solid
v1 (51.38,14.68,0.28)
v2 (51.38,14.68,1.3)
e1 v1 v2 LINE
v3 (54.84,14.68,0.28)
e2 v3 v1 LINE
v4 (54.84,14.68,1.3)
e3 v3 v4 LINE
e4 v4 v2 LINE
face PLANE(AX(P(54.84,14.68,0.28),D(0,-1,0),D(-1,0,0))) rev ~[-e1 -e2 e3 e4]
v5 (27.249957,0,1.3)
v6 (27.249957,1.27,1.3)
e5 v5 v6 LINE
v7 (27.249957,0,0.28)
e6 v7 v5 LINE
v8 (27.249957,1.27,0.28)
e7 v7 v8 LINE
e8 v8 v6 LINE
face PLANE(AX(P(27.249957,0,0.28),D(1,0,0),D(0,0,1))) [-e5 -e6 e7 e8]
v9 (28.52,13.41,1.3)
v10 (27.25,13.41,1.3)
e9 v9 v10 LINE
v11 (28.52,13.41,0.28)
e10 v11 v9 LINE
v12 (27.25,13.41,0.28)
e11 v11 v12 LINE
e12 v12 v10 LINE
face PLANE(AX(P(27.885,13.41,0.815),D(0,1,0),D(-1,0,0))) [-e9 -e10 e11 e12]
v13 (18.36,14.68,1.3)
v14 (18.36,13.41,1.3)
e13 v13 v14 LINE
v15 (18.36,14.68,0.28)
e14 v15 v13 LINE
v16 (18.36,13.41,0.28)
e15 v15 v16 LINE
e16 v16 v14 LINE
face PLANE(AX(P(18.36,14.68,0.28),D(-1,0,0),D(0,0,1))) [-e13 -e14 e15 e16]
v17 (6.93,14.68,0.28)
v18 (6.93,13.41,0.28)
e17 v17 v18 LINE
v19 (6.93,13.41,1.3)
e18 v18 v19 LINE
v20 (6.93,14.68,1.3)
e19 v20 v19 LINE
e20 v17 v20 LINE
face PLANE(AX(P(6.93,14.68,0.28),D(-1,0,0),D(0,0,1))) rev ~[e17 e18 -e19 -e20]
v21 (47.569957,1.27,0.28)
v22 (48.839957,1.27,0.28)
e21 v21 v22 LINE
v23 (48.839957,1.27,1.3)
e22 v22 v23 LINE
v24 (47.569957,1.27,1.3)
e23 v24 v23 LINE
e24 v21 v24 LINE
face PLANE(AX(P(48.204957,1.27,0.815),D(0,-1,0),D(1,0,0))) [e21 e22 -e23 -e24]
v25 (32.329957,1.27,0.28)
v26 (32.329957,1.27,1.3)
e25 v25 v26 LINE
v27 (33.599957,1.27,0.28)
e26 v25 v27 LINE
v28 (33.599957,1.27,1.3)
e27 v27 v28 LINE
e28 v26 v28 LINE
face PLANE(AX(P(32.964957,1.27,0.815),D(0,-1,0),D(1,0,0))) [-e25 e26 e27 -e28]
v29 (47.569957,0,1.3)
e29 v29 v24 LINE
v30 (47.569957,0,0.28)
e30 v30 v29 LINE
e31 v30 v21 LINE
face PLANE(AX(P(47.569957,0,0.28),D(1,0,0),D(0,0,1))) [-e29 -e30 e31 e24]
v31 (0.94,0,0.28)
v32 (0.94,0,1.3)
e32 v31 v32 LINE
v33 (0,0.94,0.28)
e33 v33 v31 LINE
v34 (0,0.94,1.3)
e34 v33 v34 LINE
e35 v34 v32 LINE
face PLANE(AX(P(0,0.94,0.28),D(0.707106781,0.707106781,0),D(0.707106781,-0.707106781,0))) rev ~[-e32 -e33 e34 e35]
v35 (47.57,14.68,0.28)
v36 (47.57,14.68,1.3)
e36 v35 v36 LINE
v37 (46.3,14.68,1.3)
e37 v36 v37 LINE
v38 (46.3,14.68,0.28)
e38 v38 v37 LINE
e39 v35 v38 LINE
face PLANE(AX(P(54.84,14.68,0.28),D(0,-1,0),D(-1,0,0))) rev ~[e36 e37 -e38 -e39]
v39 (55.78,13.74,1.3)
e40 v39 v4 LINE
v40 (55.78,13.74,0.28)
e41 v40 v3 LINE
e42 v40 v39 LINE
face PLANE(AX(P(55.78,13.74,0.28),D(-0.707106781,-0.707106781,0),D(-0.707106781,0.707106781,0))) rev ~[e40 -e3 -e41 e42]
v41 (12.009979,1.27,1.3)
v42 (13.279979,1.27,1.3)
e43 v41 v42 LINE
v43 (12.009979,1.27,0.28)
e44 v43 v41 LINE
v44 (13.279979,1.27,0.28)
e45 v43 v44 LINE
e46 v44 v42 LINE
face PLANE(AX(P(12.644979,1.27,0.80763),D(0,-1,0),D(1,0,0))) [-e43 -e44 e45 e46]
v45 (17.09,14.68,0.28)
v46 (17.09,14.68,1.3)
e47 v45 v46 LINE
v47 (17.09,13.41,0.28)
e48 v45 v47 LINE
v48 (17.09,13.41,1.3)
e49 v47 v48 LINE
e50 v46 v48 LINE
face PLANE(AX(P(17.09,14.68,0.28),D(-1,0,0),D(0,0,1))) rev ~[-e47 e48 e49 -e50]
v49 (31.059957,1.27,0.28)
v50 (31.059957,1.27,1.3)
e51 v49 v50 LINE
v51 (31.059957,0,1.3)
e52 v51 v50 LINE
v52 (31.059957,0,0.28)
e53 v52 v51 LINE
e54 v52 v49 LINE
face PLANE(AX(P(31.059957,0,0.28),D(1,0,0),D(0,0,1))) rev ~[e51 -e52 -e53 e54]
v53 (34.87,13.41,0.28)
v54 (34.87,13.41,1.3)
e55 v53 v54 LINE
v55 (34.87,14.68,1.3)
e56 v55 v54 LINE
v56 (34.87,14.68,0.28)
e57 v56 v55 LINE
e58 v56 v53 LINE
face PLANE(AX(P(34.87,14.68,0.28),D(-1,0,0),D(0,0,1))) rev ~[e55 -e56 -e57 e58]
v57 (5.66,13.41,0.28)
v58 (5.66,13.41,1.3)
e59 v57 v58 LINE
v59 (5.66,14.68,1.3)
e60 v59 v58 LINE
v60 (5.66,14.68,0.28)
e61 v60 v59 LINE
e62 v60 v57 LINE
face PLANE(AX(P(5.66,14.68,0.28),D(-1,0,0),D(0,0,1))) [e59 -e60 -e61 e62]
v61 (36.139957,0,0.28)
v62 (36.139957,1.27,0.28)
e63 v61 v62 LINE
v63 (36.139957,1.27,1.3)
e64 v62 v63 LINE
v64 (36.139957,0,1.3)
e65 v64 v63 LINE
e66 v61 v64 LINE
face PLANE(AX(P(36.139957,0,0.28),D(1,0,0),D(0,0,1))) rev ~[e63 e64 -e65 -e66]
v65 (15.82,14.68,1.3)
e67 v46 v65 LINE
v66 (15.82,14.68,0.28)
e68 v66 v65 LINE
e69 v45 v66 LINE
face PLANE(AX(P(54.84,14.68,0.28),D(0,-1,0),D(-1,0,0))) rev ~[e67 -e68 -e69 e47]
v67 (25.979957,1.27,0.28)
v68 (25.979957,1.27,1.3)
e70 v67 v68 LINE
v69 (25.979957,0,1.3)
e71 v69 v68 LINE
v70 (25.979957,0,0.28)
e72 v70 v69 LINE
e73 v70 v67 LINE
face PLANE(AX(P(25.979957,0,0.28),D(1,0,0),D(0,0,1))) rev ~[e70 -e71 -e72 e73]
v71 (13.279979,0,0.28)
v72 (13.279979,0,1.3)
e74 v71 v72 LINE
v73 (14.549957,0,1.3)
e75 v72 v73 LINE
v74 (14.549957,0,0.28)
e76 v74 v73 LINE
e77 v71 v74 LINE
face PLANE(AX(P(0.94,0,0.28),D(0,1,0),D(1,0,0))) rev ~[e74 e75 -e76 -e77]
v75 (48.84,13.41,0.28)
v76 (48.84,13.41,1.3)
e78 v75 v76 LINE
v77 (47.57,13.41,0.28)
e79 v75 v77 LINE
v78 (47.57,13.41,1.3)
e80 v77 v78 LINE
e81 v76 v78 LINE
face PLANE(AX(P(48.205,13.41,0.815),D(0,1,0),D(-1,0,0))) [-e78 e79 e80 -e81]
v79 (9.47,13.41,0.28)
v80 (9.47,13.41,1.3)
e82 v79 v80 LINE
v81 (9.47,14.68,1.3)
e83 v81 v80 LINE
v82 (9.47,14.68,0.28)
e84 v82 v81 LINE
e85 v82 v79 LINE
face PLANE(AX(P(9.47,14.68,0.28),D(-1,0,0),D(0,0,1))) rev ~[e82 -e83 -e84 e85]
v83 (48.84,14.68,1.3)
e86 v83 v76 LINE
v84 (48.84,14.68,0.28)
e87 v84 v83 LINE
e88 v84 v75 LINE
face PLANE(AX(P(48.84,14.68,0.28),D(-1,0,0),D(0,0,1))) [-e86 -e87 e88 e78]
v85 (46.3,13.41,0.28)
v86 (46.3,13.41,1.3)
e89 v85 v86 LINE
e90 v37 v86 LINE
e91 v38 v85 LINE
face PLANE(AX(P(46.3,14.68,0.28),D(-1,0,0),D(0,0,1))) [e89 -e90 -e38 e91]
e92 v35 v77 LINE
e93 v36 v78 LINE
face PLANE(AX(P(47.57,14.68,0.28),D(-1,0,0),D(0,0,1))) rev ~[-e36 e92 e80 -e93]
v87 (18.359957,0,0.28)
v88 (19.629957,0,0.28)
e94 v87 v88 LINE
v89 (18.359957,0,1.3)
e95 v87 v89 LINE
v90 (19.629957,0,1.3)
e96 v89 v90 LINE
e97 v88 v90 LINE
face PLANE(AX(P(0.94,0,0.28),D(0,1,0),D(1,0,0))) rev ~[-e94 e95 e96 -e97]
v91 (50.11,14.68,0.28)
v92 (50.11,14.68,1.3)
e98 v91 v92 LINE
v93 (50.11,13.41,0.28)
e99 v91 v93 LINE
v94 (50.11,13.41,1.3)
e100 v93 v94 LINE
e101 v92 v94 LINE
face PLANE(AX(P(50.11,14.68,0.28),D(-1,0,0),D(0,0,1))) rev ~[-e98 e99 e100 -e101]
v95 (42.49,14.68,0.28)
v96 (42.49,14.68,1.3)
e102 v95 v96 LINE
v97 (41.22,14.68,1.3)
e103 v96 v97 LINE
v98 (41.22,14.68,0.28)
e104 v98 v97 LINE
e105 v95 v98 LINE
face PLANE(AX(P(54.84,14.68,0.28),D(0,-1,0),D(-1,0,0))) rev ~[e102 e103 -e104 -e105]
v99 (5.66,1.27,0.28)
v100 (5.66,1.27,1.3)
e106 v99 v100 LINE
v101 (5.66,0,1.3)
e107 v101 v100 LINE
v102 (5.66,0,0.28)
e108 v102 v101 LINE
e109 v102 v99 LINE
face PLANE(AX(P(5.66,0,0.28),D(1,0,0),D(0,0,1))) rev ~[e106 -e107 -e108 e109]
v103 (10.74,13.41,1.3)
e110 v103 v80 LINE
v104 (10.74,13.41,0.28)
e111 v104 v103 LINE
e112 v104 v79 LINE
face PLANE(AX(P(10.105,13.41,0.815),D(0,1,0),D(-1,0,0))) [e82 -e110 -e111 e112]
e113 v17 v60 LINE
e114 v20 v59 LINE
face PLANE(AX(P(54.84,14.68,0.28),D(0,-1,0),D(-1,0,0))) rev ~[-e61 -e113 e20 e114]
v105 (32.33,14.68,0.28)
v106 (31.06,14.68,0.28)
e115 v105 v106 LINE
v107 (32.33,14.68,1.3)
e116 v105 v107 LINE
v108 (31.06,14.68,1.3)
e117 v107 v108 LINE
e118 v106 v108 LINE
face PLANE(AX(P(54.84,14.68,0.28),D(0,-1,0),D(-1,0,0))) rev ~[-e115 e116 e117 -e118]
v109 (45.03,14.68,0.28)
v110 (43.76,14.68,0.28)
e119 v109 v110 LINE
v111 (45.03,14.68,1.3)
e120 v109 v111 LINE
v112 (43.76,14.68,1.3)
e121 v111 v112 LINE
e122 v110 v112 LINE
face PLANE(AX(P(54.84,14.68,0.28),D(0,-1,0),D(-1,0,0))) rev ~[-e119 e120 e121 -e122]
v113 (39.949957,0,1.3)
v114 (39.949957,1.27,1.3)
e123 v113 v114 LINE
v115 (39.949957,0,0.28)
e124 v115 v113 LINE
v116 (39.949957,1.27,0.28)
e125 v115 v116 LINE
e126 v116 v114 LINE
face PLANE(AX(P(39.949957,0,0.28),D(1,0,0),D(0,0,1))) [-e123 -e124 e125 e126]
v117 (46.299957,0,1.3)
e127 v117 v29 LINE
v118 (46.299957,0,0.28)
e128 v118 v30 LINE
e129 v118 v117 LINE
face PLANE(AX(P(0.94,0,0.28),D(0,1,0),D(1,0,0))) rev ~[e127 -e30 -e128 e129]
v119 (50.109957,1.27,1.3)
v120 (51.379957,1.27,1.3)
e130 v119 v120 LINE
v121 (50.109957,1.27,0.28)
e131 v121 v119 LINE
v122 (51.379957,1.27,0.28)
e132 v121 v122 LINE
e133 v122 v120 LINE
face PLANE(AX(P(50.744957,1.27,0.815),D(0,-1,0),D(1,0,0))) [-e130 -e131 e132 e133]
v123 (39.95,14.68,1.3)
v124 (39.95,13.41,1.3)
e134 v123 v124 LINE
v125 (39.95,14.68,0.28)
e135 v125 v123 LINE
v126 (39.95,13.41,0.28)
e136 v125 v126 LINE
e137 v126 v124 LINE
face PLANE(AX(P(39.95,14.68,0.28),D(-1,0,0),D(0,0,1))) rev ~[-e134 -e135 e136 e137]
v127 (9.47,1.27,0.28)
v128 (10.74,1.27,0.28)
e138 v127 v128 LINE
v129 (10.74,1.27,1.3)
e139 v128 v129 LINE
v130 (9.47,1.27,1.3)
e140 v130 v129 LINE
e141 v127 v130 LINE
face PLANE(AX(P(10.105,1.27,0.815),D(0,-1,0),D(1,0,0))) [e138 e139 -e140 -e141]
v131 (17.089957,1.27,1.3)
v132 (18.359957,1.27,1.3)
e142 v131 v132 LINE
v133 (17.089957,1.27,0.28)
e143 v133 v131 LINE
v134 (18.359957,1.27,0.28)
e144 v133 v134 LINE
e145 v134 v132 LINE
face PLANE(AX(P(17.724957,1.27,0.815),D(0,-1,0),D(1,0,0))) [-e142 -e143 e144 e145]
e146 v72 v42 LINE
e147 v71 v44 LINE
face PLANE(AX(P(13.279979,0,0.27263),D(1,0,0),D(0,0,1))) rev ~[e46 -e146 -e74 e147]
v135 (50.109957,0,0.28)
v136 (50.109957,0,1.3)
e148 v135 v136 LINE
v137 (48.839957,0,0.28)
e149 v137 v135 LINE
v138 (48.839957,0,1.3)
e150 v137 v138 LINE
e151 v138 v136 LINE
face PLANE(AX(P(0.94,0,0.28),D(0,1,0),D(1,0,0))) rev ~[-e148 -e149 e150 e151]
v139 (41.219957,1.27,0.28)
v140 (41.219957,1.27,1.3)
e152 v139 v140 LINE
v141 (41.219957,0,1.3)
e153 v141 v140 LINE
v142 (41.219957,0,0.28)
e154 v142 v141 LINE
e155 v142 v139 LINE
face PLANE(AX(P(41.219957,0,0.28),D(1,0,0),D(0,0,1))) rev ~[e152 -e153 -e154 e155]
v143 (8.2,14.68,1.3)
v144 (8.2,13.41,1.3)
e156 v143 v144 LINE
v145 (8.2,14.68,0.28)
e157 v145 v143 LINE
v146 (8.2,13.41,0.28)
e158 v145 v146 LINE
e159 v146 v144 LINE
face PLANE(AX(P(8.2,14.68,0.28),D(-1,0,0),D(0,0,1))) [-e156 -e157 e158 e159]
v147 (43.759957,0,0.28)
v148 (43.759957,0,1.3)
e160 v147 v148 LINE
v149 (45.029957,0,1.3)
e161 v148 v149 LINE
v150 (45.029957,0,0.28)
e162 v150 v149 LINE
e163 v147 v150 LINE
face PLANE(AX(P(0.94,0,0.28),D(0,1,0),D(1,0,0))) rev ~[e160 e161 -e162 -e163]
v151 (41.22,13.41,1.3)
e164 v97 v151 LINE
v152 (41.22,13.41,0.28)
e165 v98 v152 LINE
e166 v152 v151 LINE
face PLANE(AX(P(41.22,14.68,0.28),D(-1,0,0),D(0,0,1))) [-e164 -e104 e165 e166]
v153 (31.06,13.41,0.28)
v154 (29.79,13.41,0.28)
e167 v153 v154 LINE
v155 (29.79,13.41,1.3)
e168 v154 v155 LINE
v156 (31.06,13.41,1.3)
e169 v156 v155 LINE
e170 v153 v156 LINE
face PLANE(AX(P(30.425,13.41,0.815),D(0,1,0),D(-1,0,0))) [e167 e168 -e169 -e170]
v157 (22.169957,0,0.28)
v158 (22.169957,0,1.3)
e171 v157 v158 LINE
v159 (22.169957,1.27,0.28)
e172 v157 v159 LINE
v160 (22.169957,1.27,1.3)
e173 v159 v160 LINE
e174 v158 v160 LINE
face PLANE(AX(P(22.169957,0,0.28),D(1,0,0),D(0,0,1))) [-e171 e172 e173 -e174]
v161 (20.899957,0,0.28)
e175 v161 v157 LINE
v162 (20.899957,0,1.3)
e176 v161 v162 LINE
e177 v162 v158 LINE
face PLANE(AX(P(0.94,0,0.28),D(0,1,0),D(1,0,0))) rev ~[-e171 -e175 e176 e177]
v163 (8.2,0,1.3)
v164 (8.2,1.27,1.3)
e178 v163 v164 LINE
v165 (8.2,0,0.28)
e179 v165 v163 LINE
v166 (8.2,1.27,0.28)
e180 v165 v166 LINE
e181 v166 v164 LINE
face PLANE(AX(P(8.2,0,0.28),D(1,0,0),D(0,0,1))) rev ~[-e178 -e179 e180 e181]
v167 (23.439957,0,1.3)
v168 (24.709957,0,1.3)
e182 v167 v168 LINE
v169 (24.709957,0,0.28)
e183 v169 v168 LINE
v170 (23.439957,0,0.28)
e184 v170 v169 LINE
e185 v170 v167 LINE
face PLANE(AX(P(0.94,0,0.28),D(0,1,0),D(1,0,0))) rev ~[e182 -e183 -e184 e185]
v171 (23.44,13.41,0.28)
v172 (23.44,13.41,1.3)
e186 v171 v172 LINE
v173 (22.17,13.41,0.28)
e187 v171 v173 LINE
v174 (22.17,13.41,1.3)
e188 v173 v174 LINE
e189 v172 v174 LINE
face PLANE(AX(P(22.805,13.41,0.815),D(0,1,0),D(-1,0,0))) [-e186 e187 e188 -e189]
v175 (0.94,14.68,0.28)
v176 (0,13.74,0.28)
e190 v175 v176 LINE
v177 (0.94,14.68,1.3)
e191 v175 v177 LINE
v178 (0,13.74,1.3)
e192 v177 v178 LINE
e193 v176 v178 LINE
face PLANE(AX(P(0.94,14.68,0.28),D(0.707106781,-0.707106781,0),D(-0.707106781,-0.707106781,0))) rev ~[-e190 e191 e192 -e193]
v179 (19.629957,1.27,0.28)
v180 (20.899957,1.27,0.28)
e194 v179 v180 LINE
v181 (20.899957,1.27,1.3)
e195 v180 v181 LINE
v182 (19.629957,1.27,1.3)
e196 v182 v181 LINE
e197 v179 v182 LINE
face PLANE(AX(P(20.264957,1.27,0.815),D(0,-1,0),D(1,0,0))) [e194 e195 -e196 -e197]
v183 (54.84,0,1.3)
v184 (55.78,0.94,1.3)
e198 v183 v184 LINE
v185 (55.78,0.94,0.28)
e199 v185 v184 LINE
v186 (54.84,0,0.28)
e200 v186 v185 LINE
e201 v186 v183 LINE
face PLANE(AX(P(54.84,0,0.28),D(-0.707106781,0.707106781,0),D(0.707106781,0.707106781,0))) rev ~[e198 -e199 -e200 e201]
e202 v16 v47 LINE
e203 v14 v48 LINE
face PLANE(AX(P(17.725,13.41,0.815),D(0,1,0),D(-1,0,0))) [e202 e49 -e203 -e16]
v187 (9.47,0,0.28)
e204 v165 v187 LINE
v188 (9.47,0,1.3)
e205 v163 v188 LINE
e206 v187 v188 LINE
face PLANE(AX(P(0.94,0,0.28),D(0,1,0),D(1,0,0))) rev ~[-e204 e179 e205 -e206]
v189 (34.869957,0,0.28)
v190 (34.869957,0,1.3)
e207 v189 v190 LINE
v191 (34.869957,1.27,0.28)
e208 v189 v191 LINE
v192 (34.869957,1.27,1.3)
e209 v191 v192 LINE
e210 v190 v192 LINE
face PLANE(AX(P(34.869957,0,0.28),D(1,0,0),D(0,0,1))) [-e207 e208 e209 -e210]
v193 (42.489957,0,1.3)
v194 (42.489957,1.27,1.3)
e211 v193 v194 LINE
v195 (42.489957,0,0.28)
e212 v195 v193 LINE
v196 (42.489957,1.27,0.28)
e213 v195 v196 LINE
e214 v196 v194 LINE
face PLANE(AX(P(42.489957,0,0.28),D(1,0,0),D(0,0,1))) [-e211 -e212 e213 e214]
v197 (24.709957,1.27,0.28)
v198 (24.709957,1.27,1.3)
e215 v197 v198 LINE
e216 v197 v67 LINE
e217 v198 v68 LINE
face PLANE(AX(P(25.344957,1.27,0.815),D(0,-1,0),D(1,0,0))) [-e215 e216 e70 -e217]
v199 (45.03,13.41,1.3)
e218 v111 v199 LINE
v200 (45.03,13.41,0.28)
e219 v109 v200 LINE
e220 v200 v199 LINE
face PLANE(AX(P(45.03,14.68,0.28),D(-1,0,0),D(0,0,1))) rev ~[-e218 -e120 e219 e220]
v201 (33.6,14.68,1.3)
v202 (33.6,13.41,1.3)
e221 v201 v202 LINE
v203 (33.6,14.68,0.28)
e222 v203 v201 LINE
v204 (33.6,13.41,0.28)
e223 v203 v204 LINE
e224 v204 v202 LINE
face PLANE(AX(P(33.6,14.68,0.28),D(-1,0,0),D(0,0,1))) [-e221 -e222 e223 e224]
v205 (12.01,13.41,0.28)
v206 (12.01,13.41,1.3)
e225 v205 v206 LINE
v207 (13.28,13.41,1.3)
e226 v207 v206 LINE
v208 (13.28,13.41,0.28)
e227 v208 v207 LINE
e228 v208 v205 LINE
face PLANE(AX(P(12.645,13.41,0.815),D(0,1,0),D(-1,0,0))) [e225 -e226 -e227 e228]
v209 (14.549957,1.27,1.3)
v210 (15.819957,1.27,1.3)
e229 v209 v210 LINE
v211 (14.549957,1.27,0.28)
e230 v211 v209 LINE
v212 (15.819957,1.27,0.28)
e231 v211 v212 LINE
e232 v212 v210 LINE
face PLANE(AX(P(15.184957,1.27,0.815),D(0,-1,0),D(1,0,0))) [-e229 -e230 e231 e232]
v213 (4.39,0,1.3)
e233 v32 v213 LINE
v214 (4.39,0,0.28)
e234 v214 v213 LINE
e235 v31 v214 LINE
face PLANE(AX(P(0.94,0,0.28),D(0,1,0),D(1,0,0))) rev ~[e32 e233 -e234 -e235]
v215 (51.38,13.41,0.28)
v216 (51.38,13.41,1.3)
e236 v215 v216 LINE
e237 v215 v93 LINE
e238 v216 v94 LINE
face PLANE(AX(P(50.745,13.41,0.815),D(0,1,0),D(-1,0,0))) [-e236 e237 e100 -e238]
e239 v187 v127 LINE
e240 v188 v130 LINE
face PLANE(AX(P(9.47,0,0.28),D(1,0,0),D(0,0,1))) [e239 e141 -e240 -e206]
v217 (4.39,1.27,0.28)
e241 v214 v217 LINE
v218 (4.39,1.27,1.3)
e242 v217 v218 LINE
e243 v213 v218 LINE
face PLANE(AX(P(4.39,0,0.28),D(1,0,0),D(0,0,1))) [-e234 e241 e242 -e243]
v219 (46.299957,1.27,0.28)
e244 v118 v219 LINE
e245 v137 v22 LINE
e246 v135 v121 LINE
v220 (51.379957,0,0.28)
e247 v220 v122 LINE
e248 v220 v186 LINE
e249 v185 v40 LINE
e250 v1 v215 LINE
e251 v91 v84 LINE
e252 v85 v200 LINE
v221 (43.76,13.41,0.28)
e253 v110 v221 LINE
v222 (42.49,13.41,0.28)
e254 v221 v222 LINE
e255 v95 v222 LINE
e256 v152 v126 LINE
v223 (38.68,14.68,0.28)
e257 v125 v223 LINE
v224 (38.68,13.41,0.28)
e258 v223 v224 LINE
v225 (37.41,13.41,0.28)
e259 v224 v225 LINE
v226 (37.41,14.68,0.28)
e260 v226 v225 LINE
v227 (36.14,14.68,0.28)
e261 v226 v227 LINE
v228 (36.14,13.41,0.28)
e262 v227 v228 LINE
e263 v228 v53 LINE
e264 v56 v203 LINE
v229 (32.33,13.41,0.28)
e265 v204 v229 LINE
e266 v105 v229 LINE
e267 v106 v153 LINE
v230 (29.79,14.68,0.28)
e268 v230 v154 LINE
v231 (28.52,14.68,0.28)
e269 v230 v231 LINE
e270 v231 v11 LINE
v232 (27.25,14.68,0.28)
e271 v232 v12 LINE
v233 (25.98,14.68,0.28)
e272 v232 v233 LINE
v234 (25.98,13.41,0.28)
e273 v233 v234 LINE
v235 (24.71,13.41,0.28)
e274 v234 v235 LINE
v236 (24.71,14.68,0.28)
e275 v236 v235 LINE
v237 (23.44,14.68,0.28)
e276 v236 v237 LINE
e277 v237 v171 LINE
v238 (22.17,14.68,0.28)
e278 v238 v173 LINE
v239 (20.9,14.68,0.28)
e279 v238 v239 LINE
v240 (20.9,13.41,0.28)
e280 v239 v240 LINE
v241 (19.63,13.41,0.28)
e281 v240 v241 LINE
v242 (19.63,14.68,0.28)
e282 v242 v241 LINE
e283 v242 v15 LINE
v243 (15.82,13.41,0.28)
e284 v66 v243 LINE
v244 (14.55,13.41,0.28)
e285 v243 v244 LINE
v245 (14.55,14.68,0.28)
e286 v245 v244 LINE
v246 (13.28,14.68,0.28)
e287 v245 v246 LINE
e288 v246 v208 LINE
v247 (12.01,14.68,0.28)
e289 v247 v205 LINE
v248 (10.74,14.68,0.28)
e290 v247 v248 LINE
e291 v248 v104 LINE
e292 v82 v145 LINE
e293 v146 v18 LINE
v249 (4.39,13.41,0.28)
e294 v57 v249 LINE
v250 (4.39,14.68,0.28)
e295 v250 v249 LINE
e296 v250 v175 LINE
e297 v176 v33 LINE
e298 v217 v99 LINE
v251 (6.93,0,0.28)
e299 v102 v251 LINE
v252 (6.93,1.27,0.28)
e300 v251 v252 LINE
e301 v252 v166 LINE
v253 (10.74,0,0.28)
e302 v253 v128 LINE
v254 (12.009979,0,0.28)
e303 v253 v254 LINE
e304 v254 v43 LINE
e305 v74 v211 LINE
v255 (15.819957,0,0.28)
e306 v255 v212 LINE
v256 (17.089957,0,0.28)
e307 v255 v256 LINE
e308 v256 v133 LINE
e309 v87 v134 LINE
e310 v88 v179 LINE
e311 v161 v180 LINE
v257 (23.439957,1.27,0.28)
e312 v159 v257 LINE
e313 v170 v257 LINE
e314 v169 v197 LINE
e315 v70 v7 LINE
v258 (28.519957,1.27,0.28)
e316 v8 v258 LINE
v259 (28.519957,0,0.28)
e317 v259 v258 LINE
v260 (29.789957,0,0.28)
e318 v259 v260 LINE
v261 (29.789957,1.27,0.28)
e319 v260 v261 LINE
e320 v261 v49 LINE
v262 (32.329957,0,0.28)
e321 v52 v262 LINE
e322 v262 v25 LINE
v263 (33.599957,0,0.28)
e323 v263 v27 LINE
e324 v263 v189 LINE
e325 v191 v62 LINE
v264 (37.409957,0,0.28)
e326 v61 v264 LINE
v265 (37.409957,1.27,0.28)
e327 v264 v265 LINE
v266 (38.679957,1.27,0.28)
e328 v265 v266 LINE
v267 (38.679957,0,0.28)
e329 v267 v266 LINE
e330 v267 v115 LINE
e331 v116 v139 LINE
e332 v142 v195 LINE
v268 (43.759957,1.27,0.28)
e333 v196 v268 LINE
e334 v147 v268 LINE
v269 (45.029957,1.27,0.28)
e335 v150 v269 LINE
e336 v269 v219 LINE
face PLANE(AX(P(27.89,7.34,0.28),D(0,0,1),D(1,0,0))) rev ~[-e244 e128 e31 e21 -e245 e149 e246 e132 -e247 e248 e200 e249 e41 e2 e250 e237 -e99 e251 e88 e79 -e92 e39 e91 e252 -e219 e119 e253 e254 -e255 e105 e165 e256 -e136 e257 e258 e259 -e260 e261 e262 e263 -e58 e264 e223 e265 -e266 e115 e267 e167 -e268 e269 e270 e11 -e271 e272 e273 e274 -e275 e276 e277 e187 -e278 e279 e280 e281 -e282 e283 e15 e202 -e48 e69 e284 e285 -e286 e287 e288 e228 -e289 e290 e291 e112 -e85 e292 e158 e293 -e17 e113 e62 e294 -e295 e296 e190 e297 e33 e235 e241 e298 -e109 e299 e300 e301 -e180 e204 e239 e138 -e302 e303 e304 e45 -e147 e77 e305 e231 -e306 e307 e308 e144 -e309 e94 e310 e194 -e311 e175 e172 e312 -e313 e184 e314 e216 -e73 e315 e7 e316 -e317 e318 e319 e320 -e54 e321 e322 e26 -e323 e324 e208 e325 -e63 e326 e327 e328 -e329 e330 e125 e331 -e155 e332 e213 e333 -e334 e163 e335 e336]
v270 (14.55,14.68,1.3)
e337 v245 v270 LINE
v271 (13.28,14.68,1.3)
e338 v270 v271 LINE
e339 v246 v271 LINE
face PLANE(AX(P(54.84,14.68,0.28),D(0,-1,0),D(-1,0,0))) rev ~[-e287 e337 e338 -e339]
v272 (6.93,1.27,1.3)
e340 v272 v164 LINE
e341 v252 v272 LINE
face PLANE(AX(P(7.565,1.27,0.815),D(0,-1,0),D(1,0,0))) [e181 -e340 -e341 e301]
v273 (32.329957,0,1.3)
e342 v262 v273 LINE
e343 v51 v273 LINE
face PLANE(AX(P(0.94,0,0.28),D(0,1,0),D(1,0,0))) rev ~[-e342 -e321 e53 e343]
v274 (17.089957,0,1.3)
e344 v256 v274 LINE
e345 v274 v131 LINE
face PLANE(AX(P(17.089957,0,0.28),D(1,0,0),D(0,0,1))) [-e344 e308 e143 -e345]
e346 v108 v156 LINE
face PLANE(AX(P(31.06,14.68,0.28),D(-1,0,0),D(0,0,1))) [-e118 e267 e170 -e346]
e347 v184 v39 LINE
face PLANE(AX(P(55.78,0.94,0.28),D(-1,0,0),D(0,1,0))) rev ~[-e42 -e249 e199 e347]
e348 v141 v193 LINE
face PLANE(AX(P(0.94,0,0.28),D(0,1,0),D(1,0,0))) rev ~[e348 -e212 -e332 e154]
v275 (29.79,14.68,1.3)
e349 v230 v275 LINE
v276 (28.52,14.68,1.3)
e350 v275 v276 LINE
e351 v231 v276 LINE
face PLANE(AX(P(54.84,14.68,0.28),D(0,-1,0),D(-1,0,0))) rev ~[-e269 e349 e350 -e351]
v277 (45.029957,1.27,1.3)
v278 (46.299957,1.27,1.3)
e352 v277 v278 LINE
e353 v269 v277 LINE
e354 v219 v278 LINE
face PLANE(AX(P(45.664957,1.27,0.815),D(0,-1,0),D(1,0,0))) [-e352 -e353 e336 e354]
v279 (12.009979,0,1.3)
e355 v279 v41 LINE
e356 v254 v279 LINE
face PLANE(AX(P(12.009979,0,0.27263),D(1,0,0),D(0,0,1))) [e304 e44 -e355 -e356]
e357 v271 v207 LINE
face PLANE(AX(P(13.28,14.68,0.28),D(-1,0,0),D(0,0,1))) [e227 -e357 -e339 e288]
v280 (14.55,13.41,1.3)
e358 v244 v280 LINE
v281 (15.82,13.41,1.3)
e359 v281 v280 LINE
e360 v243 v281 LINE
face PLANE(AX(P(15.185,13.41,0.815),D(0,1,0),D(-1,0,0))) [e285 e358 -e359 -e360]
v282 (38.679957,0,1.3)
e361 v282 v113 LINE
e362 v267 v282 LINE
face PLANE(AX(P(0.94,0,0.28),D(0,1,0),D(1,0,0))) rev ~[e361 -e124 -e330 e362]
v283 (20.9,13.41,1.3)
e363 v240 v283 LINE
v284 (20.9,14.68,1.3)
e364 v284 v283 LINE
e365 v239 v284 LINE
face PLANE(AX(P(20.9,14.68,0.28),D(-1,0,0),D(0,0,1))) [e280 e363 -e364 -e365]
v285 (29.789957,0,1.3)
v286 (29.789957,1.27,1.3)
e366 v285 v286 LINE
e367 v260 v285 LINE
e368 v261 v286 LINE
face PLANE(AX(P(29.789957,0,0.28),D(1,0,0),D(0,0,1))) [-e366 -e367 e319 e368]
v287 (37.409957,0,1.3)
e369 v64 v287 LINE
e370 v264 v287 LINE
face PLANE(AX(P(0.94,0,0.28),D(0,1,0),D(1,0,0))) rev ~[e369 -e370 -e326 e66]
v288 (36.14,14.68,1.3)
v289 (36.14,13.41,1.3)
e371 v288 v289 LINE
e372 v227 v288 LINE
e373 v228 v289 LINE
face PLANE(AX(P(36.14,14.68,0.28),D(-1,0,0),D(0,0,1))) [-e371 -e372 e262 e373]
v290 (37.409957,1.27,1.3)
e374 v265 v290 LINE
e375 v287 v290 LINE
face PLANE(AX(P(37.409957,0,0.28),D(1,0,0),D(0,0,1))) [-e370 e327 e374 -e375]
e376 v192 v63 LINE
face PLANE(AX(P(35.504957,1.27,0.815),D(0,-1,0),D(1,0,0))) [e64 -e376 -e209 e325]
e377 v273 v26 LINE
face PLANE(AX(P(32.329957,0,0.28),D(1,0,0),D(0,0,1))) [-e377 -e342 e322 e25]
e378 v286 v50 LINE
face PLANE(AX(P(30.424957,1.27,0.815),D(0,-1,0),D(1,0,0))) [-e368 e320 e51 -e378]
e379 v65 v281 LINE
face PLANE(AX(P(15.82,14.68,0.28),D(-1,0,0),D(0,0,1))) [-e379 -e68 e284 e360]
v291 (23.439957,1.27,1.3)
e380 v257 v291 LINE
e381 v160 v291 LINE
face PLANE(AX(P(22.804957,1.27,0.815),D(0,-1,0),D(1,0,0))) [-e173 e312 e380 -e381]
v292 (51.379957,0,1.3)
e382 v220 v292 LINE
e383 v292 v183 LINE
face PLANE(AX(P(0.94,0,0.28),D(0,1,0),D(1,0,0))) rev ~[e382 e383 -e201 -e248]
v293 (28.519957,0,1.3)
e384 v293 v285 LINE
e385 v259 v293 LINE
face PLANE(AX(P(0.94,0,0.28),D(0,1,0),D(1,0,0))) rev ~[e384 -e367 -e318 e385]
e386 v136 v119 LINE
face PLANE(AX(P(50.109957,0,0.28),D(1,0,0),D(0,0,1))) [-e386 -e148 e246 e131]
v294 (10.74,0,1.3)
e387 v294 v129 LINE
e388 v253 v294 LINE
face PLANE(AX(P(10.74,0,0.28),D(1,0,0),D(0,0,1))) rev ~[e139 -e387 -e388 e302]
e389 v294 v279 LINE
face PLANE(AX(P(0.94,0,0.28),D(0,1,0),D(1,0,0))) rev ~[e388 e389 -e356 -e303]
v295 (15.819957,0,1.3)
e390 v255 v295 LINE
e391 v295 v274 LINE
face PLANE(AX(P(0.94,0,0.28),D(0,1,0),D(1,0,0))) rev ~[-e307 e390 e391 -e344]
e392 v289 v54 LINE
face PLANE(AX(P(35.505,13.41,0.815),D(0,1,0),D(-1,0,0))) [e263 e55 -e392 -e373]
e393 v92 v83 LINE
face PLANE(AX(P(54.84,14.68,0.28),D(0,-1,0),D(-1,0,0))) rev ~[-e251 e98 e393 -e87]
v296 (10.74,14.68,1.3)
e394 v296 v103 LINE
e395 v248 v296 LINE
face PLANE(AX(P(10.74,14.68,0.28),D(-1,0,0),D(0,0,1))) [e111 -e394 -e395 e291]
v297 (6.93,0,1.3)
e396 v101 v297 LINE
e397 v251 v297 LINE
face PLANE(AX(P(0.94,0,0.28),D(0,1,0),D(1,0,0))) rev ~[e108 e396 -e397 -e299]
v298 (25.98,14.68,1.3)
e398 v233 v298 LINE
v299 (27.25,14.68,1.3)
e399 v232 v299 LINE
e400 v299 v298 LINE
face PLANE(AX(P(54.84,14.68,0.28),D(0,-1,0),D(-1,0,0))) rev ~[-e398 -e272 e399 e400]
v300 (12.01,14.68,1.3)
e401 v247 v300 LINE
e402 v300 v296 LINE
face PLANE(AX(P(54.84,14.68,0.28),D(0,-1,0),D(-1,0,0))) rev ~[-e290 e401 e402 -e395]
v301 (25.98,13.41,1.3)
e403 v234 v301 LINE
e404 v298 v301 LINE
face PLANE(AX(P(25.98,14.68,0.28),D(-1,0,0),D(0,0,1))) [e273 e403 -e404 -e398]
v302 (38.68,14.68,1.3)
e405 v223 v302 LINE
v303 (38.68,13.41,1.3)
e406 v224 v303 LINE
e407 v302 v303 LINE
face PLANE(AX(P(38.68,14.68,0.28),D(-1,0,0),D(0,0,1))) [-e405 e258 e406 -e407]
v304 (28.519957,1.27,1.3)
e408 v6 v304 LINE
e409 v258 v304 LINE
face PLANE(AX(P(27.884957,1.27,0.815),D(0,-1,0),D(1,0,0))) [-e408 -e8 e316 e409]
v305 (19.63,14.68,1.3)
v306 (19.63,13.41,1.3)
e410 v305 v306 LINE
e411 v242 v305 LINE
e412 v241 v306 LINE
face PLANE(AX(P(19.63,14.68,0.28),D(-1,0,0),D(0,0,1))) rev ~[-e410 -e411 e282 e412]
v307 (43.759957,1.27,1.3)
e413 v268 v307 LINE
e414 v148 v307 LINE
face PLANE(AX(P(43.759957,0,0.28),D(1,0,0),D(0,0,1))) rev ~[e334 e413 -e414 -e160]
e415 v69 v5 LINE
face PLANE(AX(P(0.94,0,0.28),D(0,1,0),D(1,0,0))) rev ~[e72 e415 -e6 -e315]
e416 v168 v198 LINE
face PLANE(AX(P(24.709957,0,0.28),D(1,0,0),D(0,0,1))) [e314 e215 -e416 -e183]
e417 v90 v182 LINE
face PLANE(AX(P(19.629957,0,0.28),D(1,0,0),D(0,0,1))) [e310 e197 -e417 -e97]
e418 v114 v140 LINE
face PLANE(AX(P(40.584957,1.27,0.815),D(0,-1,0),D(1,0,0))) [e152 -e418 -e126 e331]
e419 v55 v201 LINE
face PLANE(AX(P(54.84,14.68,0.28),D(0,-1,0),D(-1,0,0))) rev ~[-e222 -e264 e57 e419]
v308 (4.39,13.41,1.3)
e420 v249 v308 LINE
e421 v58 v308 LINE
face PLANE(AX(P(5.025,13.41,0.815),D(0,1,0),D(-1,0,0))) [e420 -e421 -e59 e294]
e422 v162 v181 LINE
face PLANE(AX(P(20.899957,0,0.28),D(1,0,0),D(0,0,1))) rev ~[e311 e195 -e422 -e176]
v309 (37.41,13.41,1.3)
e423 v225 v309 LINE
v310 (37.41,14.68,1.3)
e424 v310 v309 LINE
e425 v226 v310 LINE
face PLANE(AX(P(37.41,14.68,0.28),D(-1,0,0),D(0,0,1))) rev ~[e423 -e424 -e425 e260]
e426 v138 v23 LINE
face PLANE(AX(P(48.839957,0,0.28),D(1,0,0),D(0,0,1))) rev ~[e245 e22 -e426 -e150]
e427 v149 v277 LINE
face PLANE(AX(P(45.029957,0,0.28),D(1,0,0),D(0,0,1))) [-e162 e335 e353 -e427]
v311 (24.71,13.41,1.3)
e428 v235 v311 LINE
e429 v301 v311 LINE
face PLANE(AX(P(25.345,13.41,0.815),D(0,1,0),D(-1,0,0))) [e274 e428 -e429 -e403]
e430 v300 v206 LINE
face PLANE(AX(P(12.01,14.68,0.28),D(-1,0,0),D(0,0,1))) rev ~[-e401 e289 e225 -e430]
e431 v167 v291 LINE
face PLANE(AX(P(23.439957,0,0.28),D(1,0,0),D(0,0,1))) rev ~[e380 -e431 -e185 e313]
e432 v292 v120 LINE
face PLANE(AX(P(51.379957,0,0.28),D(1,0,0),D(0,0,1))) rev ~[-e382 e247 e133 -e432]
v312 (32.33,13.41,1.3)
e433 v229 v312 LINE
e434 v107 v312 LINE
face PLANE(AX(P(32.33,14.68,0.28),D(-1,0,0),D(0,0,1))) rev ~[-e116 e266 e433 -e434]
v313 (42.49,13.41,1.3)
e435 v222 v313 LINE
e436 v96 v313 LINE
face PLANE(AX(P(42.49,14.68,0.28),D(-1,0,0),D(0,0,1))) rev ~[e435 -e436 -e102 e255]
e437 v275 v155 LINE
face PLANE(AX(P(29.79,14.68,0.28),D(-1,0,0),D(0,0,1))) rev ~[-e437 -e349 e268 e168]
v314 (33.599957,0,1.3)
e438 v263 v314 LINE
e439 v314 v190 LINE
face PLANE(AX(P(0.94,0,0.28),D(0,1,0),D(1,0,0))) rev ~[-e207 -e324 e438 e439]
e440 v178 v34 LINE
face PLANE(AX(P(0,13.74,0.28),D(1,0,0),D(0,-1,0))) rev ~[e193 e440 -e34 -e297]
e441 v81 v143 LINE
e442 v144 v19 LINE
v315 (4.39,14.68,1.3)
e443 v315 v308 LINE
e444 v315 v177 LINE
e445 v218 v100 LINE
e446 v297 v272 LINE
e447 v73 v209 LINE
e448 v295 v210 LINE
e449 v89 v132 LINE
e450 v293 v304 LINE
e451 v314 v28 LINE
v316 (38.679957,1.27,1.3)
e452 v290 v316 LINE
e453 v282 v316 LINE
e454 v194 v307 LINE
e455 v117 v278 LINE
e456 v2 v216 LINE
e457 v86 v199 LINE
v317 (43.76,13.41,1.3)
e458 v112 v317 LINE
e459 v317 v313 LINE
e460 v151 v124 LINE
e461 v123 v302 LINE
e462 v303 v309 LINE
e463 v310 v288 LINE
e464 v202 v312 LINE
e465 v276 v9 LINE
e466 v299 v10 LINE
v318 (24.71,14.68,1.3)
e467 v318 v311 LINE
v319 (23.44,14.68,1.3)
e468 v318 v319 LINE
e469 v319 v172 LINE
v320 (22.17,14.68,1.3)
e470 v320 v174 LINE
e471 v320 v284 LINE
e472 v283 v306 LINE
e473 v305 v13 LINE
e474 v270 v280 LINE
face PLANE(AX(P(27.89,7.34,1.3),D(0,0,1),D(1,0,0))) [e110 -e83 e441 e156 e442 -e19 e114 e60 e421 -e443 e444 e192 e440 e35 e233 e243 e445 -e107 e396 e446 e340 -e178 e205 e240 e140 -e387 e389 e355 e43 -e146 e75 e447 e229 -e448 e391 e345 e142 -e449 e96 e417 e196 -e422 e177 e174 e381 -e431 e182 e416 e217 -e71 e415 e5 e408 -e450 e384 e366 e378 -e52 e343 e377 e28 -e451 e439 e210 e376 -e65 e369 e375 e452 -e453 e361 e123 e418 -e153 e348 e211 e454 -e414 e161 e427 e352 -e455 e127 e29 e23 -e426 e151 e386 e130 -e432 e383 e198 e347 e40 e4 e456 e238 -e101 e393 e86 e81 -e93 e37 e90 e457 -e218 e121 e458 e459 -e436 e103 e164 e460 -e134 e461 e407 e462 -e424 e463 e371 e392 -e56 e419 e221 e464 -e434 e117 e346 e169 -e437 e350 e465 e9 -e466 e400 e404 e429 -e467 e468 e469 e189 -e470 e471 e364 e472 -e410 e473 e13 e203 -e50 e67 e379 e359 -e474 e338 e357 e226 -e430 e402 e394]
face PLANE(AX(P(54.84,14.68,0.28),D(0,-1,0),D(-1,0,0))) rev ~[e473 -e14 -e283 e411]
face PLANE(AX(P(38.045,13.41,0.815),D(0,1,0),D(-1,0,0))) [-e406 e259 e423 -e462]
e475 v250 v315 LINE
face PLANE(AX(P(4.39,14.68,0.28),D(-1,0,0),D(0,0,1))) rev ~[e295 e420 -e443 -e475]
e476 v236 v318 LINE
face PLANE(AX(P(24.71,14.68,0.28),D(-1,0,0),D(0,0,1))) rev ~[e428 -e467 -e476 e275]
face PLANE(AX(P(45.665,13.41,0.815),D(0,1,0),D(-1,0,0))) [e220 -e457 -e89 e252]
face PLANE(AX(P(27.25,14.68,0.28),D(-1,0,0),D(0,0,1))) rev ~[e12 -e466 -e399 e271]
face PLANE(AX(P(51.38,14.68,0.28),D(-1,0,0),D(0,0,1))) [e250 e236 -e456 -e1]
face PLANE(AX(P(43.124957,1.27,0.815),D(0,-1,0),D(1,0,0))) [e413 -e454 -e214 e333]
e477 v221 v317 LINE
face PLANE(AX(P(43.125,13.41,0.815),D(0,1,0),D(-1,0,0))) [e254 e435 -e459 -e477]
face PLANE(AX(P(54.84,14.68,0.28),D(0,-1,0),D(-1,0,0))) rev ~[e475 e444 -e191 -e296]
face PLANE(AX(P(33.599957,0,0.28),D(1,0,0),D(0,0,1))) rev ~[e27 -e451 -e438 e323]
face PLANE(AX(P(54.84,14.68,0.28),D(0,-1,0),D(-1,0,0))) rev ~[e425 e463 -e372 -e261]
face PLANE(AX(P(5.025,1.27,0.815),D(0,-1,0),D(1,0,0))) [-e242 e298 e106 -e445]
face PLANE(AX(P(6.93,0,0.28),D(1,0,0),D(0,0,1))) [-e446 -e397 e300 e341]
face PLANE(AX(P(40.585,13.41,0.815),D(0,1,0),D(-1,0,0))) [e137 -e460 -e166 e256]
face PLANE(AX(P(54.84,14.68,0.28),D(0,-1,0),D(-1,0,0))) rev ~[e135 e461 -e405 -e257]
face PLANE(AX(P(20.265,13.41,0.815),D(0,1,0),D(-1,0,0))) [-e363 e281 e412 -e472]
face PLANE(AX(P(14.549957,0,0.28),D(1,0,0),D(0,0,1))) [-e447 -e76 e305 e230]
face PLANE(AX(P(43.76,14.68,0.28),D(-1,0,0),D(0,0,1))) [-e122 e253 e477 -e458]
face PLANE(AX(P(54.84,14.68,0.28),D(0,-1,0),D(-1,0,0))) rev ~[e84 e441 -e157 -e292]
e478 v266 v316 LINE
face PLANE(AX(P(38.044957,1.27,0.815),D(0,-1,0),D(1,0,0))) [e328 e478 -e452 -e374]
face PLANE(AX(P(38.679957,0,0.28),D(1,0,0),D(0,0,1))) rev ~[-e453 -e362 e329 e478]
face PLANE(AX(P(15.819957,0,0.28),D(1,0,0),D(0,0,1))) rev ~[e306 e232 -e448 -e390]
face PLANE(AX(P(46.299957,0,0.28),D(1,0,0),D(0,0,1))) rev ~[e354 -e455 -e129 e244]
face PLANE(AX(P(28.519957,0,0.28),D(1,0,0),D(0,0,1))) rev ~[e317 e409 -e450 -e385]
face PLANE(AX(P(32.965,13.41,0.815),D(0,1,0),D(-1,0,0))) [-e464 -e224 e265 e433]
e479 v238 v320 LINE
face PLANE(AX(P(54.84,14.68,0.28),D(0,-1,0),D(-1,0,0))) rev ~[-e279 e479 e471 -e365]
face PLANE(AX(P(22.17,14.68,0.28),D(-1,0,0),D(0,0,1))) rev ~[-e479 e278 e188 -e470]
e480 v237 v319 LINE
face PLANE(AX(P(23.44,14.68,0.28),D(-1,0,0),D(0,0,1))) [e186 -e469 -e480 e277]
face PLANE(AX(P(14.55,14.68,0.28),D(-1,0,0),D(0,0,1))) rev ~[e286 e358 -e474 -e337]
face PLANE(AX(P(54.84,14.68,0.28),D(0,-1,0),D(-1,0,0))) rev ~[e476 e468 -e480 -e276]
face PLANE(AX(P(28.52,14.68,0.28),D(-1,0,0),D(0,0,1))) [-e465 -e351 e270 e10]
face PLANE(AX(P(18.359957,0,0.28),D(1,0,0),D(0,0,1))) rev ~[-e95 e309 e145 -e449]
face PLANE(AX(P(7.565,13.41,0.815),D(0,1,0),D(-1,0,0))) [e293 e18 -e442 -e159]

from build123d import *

# Parameters (mm, degrees)
PAD_DEPTH       = 1.02
SKETCH001_W     = 1.27
SKETCH001_H     = 1.07
POCKET_DEPTH    = 1.27
SKETCH002_W     = 1.27
SKETCH002_H     = 1.07
POCKET001_DEPTH = 1.27


with BuildPart() as part:
    # Sketch → Pad (new body)
    with BuildSketch(Plane.XY.offset(0.28)):
        Polygon((0, 0.94), (0.94, 0), (54.84, 0), (55.78, 0.94), (55.78, 13.74), (54.84, 14.68), (0.94, 14.68), (0, 13.74), align=None)
    extrude(amount=PAD_DEPTH)

    # Sketch001 → Pocket (cut)
    with BuildSketch(Plane(origin=(0, 0, 0.28), x_dir=(1, 0, 0), z_dir=(0, -1, 0))):
        with Locations((5.025, 0.535)):
            Rectangle(SKETCH001_W, SKETCH001_H)
        with Locations((7.565, 0.535)):
            Rectangle(SKETCH001_W, SKETCH001_H)
        with Locations((10.105, 0.535)):
            Rectangle(SKETCH001_W, SKETCH001_H)
        with Locations((12.644979, 0.52763)):
            Rectangle(SKETCH001_W, SKETCH001_H)
        with Locations((15.184957, 0.535)):
            Rectangle(SKETCH001_W, SKETCH001_H)
        with Locations((17.724957, 0.535)):
            Rectangle(SKETCH001_W, SKETCH001_H)
        with Locations((20.264957, 0.535)):
            Rectangle(SKETCH001_W, SKETCH001_H)
        with Locations((22.804957, 0.535)):
            Rectangle(SKETCH001_W, SKETCH001_H)
        with Locations((25.344957, 0.535)):
            Rectangle(SKETCH001_W, SKETCH001_H)
        with Locations((27.884957, 0.535)):
            Rectangle(SKETCH001_W, SKETCH001_H)
        with Locations((30.424957, 0.535)):
            Rectangle(SKETCH001_W, SKETCH001_H)
        with Locations((32.964957, 0.535)):
            Rectangle(SKETCH001_W, SKETCH001_H)
        with Locations((35.504957, 0.535)):
            Rectangle(SKETCH001_W, SKETCH001_H)
        with Locations((38.044957, 0.535)):
            Rectangle(SKETCH001_W, SKETCH001_H)
        with Locations((40.584957, 0.535)):
            Rectangle(SKETCH001_W, SKETCH001_H)
        with Locations((43.124957, 0.535)):
            Rectangle(SKETCH001_W, SKETCH001_H)
        with Locations((45.664957, 0.535)):
            Rectangle(SKETCH001_W, SKETCH001_H)
        with Locations((48.204957, 0.535)):
            Rectangle(SKETCH001_W, SKETCH001_H)
        with Locations((50.744957, 0.535)):
            Rectangle(SKETCH001_W, SKETCH001_H)
    extrude(amount=-POCKET_DEPTH, mode=Mode.SUBTRACT)

    # Sketch002 → Pocket001 (cut)
    with BuildSketch(Plane(origin=(0, 14.68, 0.28), x_dir=(-1, 0, 0), z_dir=(0, 1, 0))):
        with Locations((-45.665, 0.535)):
            Rectangle(SKETCH002_W, SKETCH002_H)
        with Locations((-43.125, 0.535)):
            Rectangle(SKETCH002_W, SKETCH002_H)
        with Locations((-40.585, 0.535)):
            Rectangle(SKETCH002_W, SKETCH002_H)
        with Locations((-40.585, 0.535)):
            Rectangle(SKETCH002_W, SKETCH002_H)
        with Locations((-40.585, 0.535)):
            Rectangle(SKETCH002_W, SKETCH002_H)
        with Locations((-38.045, 0.535)):
            Rectangle(SKETCH002_W, SKETCH002_H)
        with Locations((-35.505, 0.535)):
            Rectangle(SKETCH002_W, SKETCH002_H)
        with Locations((-32.965, 0.535)):
            Rectangle(SKETCH002_W, SKETCH002_H)
        with Locations((-30.425, 0.535)):
            Rectangle(SKETCH002_W, SKETCH002_H)
        with Locations((-27.885, 0.535)):
            Rectangle(SKETCH002_W, SKETCH002_H)
        with Locations((-25.345, 0.535)):
            Rectangle(SKETCH002_W, SKETCH002_H)
        with Locations((-22.805, 0.535)):
            Rectangle(SKETCH002_W, SKETCH002_H)
        with Locations((-20.265, 0.535)):
            Rectangle(SKETCH002_W, SKETCH002_H)
        with Locations((-17.725, 0.535)):
            Rectangle(SKETCH002_W, SKETCH002_H)
        with Locations((-15.185, 0.535)):
            Rectangle(SKETCH002_W, SKETCH002_H)
        with Locations((-12.645, 0.535)):
            Rectangle(SKETCH002_W, SKETCH002_H)
        with Locations((-10.105, 0.535)):
            Rectangle(SKETCH002_W, SKETCH002_H)
        with Locations((-7.565, 0.535)):
            Rectangle(SKETCH002_W, SKETCH002_H)
        with Locations((-5.025, 0.535)):
            Rectangle(SKETCH002_W, SKETCH002_H)
        with Locations((-48.205, 0.535)):
            Rectangle(SKETCH002_W, SKETCH002_H)
        with Locations((-50.745, 0.535)):
            Rectangle(SKETCH002_W, SKETCH002_H)
    extrude(amount=-POCKET001_DEPTH, mode=Mode.SUBTRACT)


solid = part.part
